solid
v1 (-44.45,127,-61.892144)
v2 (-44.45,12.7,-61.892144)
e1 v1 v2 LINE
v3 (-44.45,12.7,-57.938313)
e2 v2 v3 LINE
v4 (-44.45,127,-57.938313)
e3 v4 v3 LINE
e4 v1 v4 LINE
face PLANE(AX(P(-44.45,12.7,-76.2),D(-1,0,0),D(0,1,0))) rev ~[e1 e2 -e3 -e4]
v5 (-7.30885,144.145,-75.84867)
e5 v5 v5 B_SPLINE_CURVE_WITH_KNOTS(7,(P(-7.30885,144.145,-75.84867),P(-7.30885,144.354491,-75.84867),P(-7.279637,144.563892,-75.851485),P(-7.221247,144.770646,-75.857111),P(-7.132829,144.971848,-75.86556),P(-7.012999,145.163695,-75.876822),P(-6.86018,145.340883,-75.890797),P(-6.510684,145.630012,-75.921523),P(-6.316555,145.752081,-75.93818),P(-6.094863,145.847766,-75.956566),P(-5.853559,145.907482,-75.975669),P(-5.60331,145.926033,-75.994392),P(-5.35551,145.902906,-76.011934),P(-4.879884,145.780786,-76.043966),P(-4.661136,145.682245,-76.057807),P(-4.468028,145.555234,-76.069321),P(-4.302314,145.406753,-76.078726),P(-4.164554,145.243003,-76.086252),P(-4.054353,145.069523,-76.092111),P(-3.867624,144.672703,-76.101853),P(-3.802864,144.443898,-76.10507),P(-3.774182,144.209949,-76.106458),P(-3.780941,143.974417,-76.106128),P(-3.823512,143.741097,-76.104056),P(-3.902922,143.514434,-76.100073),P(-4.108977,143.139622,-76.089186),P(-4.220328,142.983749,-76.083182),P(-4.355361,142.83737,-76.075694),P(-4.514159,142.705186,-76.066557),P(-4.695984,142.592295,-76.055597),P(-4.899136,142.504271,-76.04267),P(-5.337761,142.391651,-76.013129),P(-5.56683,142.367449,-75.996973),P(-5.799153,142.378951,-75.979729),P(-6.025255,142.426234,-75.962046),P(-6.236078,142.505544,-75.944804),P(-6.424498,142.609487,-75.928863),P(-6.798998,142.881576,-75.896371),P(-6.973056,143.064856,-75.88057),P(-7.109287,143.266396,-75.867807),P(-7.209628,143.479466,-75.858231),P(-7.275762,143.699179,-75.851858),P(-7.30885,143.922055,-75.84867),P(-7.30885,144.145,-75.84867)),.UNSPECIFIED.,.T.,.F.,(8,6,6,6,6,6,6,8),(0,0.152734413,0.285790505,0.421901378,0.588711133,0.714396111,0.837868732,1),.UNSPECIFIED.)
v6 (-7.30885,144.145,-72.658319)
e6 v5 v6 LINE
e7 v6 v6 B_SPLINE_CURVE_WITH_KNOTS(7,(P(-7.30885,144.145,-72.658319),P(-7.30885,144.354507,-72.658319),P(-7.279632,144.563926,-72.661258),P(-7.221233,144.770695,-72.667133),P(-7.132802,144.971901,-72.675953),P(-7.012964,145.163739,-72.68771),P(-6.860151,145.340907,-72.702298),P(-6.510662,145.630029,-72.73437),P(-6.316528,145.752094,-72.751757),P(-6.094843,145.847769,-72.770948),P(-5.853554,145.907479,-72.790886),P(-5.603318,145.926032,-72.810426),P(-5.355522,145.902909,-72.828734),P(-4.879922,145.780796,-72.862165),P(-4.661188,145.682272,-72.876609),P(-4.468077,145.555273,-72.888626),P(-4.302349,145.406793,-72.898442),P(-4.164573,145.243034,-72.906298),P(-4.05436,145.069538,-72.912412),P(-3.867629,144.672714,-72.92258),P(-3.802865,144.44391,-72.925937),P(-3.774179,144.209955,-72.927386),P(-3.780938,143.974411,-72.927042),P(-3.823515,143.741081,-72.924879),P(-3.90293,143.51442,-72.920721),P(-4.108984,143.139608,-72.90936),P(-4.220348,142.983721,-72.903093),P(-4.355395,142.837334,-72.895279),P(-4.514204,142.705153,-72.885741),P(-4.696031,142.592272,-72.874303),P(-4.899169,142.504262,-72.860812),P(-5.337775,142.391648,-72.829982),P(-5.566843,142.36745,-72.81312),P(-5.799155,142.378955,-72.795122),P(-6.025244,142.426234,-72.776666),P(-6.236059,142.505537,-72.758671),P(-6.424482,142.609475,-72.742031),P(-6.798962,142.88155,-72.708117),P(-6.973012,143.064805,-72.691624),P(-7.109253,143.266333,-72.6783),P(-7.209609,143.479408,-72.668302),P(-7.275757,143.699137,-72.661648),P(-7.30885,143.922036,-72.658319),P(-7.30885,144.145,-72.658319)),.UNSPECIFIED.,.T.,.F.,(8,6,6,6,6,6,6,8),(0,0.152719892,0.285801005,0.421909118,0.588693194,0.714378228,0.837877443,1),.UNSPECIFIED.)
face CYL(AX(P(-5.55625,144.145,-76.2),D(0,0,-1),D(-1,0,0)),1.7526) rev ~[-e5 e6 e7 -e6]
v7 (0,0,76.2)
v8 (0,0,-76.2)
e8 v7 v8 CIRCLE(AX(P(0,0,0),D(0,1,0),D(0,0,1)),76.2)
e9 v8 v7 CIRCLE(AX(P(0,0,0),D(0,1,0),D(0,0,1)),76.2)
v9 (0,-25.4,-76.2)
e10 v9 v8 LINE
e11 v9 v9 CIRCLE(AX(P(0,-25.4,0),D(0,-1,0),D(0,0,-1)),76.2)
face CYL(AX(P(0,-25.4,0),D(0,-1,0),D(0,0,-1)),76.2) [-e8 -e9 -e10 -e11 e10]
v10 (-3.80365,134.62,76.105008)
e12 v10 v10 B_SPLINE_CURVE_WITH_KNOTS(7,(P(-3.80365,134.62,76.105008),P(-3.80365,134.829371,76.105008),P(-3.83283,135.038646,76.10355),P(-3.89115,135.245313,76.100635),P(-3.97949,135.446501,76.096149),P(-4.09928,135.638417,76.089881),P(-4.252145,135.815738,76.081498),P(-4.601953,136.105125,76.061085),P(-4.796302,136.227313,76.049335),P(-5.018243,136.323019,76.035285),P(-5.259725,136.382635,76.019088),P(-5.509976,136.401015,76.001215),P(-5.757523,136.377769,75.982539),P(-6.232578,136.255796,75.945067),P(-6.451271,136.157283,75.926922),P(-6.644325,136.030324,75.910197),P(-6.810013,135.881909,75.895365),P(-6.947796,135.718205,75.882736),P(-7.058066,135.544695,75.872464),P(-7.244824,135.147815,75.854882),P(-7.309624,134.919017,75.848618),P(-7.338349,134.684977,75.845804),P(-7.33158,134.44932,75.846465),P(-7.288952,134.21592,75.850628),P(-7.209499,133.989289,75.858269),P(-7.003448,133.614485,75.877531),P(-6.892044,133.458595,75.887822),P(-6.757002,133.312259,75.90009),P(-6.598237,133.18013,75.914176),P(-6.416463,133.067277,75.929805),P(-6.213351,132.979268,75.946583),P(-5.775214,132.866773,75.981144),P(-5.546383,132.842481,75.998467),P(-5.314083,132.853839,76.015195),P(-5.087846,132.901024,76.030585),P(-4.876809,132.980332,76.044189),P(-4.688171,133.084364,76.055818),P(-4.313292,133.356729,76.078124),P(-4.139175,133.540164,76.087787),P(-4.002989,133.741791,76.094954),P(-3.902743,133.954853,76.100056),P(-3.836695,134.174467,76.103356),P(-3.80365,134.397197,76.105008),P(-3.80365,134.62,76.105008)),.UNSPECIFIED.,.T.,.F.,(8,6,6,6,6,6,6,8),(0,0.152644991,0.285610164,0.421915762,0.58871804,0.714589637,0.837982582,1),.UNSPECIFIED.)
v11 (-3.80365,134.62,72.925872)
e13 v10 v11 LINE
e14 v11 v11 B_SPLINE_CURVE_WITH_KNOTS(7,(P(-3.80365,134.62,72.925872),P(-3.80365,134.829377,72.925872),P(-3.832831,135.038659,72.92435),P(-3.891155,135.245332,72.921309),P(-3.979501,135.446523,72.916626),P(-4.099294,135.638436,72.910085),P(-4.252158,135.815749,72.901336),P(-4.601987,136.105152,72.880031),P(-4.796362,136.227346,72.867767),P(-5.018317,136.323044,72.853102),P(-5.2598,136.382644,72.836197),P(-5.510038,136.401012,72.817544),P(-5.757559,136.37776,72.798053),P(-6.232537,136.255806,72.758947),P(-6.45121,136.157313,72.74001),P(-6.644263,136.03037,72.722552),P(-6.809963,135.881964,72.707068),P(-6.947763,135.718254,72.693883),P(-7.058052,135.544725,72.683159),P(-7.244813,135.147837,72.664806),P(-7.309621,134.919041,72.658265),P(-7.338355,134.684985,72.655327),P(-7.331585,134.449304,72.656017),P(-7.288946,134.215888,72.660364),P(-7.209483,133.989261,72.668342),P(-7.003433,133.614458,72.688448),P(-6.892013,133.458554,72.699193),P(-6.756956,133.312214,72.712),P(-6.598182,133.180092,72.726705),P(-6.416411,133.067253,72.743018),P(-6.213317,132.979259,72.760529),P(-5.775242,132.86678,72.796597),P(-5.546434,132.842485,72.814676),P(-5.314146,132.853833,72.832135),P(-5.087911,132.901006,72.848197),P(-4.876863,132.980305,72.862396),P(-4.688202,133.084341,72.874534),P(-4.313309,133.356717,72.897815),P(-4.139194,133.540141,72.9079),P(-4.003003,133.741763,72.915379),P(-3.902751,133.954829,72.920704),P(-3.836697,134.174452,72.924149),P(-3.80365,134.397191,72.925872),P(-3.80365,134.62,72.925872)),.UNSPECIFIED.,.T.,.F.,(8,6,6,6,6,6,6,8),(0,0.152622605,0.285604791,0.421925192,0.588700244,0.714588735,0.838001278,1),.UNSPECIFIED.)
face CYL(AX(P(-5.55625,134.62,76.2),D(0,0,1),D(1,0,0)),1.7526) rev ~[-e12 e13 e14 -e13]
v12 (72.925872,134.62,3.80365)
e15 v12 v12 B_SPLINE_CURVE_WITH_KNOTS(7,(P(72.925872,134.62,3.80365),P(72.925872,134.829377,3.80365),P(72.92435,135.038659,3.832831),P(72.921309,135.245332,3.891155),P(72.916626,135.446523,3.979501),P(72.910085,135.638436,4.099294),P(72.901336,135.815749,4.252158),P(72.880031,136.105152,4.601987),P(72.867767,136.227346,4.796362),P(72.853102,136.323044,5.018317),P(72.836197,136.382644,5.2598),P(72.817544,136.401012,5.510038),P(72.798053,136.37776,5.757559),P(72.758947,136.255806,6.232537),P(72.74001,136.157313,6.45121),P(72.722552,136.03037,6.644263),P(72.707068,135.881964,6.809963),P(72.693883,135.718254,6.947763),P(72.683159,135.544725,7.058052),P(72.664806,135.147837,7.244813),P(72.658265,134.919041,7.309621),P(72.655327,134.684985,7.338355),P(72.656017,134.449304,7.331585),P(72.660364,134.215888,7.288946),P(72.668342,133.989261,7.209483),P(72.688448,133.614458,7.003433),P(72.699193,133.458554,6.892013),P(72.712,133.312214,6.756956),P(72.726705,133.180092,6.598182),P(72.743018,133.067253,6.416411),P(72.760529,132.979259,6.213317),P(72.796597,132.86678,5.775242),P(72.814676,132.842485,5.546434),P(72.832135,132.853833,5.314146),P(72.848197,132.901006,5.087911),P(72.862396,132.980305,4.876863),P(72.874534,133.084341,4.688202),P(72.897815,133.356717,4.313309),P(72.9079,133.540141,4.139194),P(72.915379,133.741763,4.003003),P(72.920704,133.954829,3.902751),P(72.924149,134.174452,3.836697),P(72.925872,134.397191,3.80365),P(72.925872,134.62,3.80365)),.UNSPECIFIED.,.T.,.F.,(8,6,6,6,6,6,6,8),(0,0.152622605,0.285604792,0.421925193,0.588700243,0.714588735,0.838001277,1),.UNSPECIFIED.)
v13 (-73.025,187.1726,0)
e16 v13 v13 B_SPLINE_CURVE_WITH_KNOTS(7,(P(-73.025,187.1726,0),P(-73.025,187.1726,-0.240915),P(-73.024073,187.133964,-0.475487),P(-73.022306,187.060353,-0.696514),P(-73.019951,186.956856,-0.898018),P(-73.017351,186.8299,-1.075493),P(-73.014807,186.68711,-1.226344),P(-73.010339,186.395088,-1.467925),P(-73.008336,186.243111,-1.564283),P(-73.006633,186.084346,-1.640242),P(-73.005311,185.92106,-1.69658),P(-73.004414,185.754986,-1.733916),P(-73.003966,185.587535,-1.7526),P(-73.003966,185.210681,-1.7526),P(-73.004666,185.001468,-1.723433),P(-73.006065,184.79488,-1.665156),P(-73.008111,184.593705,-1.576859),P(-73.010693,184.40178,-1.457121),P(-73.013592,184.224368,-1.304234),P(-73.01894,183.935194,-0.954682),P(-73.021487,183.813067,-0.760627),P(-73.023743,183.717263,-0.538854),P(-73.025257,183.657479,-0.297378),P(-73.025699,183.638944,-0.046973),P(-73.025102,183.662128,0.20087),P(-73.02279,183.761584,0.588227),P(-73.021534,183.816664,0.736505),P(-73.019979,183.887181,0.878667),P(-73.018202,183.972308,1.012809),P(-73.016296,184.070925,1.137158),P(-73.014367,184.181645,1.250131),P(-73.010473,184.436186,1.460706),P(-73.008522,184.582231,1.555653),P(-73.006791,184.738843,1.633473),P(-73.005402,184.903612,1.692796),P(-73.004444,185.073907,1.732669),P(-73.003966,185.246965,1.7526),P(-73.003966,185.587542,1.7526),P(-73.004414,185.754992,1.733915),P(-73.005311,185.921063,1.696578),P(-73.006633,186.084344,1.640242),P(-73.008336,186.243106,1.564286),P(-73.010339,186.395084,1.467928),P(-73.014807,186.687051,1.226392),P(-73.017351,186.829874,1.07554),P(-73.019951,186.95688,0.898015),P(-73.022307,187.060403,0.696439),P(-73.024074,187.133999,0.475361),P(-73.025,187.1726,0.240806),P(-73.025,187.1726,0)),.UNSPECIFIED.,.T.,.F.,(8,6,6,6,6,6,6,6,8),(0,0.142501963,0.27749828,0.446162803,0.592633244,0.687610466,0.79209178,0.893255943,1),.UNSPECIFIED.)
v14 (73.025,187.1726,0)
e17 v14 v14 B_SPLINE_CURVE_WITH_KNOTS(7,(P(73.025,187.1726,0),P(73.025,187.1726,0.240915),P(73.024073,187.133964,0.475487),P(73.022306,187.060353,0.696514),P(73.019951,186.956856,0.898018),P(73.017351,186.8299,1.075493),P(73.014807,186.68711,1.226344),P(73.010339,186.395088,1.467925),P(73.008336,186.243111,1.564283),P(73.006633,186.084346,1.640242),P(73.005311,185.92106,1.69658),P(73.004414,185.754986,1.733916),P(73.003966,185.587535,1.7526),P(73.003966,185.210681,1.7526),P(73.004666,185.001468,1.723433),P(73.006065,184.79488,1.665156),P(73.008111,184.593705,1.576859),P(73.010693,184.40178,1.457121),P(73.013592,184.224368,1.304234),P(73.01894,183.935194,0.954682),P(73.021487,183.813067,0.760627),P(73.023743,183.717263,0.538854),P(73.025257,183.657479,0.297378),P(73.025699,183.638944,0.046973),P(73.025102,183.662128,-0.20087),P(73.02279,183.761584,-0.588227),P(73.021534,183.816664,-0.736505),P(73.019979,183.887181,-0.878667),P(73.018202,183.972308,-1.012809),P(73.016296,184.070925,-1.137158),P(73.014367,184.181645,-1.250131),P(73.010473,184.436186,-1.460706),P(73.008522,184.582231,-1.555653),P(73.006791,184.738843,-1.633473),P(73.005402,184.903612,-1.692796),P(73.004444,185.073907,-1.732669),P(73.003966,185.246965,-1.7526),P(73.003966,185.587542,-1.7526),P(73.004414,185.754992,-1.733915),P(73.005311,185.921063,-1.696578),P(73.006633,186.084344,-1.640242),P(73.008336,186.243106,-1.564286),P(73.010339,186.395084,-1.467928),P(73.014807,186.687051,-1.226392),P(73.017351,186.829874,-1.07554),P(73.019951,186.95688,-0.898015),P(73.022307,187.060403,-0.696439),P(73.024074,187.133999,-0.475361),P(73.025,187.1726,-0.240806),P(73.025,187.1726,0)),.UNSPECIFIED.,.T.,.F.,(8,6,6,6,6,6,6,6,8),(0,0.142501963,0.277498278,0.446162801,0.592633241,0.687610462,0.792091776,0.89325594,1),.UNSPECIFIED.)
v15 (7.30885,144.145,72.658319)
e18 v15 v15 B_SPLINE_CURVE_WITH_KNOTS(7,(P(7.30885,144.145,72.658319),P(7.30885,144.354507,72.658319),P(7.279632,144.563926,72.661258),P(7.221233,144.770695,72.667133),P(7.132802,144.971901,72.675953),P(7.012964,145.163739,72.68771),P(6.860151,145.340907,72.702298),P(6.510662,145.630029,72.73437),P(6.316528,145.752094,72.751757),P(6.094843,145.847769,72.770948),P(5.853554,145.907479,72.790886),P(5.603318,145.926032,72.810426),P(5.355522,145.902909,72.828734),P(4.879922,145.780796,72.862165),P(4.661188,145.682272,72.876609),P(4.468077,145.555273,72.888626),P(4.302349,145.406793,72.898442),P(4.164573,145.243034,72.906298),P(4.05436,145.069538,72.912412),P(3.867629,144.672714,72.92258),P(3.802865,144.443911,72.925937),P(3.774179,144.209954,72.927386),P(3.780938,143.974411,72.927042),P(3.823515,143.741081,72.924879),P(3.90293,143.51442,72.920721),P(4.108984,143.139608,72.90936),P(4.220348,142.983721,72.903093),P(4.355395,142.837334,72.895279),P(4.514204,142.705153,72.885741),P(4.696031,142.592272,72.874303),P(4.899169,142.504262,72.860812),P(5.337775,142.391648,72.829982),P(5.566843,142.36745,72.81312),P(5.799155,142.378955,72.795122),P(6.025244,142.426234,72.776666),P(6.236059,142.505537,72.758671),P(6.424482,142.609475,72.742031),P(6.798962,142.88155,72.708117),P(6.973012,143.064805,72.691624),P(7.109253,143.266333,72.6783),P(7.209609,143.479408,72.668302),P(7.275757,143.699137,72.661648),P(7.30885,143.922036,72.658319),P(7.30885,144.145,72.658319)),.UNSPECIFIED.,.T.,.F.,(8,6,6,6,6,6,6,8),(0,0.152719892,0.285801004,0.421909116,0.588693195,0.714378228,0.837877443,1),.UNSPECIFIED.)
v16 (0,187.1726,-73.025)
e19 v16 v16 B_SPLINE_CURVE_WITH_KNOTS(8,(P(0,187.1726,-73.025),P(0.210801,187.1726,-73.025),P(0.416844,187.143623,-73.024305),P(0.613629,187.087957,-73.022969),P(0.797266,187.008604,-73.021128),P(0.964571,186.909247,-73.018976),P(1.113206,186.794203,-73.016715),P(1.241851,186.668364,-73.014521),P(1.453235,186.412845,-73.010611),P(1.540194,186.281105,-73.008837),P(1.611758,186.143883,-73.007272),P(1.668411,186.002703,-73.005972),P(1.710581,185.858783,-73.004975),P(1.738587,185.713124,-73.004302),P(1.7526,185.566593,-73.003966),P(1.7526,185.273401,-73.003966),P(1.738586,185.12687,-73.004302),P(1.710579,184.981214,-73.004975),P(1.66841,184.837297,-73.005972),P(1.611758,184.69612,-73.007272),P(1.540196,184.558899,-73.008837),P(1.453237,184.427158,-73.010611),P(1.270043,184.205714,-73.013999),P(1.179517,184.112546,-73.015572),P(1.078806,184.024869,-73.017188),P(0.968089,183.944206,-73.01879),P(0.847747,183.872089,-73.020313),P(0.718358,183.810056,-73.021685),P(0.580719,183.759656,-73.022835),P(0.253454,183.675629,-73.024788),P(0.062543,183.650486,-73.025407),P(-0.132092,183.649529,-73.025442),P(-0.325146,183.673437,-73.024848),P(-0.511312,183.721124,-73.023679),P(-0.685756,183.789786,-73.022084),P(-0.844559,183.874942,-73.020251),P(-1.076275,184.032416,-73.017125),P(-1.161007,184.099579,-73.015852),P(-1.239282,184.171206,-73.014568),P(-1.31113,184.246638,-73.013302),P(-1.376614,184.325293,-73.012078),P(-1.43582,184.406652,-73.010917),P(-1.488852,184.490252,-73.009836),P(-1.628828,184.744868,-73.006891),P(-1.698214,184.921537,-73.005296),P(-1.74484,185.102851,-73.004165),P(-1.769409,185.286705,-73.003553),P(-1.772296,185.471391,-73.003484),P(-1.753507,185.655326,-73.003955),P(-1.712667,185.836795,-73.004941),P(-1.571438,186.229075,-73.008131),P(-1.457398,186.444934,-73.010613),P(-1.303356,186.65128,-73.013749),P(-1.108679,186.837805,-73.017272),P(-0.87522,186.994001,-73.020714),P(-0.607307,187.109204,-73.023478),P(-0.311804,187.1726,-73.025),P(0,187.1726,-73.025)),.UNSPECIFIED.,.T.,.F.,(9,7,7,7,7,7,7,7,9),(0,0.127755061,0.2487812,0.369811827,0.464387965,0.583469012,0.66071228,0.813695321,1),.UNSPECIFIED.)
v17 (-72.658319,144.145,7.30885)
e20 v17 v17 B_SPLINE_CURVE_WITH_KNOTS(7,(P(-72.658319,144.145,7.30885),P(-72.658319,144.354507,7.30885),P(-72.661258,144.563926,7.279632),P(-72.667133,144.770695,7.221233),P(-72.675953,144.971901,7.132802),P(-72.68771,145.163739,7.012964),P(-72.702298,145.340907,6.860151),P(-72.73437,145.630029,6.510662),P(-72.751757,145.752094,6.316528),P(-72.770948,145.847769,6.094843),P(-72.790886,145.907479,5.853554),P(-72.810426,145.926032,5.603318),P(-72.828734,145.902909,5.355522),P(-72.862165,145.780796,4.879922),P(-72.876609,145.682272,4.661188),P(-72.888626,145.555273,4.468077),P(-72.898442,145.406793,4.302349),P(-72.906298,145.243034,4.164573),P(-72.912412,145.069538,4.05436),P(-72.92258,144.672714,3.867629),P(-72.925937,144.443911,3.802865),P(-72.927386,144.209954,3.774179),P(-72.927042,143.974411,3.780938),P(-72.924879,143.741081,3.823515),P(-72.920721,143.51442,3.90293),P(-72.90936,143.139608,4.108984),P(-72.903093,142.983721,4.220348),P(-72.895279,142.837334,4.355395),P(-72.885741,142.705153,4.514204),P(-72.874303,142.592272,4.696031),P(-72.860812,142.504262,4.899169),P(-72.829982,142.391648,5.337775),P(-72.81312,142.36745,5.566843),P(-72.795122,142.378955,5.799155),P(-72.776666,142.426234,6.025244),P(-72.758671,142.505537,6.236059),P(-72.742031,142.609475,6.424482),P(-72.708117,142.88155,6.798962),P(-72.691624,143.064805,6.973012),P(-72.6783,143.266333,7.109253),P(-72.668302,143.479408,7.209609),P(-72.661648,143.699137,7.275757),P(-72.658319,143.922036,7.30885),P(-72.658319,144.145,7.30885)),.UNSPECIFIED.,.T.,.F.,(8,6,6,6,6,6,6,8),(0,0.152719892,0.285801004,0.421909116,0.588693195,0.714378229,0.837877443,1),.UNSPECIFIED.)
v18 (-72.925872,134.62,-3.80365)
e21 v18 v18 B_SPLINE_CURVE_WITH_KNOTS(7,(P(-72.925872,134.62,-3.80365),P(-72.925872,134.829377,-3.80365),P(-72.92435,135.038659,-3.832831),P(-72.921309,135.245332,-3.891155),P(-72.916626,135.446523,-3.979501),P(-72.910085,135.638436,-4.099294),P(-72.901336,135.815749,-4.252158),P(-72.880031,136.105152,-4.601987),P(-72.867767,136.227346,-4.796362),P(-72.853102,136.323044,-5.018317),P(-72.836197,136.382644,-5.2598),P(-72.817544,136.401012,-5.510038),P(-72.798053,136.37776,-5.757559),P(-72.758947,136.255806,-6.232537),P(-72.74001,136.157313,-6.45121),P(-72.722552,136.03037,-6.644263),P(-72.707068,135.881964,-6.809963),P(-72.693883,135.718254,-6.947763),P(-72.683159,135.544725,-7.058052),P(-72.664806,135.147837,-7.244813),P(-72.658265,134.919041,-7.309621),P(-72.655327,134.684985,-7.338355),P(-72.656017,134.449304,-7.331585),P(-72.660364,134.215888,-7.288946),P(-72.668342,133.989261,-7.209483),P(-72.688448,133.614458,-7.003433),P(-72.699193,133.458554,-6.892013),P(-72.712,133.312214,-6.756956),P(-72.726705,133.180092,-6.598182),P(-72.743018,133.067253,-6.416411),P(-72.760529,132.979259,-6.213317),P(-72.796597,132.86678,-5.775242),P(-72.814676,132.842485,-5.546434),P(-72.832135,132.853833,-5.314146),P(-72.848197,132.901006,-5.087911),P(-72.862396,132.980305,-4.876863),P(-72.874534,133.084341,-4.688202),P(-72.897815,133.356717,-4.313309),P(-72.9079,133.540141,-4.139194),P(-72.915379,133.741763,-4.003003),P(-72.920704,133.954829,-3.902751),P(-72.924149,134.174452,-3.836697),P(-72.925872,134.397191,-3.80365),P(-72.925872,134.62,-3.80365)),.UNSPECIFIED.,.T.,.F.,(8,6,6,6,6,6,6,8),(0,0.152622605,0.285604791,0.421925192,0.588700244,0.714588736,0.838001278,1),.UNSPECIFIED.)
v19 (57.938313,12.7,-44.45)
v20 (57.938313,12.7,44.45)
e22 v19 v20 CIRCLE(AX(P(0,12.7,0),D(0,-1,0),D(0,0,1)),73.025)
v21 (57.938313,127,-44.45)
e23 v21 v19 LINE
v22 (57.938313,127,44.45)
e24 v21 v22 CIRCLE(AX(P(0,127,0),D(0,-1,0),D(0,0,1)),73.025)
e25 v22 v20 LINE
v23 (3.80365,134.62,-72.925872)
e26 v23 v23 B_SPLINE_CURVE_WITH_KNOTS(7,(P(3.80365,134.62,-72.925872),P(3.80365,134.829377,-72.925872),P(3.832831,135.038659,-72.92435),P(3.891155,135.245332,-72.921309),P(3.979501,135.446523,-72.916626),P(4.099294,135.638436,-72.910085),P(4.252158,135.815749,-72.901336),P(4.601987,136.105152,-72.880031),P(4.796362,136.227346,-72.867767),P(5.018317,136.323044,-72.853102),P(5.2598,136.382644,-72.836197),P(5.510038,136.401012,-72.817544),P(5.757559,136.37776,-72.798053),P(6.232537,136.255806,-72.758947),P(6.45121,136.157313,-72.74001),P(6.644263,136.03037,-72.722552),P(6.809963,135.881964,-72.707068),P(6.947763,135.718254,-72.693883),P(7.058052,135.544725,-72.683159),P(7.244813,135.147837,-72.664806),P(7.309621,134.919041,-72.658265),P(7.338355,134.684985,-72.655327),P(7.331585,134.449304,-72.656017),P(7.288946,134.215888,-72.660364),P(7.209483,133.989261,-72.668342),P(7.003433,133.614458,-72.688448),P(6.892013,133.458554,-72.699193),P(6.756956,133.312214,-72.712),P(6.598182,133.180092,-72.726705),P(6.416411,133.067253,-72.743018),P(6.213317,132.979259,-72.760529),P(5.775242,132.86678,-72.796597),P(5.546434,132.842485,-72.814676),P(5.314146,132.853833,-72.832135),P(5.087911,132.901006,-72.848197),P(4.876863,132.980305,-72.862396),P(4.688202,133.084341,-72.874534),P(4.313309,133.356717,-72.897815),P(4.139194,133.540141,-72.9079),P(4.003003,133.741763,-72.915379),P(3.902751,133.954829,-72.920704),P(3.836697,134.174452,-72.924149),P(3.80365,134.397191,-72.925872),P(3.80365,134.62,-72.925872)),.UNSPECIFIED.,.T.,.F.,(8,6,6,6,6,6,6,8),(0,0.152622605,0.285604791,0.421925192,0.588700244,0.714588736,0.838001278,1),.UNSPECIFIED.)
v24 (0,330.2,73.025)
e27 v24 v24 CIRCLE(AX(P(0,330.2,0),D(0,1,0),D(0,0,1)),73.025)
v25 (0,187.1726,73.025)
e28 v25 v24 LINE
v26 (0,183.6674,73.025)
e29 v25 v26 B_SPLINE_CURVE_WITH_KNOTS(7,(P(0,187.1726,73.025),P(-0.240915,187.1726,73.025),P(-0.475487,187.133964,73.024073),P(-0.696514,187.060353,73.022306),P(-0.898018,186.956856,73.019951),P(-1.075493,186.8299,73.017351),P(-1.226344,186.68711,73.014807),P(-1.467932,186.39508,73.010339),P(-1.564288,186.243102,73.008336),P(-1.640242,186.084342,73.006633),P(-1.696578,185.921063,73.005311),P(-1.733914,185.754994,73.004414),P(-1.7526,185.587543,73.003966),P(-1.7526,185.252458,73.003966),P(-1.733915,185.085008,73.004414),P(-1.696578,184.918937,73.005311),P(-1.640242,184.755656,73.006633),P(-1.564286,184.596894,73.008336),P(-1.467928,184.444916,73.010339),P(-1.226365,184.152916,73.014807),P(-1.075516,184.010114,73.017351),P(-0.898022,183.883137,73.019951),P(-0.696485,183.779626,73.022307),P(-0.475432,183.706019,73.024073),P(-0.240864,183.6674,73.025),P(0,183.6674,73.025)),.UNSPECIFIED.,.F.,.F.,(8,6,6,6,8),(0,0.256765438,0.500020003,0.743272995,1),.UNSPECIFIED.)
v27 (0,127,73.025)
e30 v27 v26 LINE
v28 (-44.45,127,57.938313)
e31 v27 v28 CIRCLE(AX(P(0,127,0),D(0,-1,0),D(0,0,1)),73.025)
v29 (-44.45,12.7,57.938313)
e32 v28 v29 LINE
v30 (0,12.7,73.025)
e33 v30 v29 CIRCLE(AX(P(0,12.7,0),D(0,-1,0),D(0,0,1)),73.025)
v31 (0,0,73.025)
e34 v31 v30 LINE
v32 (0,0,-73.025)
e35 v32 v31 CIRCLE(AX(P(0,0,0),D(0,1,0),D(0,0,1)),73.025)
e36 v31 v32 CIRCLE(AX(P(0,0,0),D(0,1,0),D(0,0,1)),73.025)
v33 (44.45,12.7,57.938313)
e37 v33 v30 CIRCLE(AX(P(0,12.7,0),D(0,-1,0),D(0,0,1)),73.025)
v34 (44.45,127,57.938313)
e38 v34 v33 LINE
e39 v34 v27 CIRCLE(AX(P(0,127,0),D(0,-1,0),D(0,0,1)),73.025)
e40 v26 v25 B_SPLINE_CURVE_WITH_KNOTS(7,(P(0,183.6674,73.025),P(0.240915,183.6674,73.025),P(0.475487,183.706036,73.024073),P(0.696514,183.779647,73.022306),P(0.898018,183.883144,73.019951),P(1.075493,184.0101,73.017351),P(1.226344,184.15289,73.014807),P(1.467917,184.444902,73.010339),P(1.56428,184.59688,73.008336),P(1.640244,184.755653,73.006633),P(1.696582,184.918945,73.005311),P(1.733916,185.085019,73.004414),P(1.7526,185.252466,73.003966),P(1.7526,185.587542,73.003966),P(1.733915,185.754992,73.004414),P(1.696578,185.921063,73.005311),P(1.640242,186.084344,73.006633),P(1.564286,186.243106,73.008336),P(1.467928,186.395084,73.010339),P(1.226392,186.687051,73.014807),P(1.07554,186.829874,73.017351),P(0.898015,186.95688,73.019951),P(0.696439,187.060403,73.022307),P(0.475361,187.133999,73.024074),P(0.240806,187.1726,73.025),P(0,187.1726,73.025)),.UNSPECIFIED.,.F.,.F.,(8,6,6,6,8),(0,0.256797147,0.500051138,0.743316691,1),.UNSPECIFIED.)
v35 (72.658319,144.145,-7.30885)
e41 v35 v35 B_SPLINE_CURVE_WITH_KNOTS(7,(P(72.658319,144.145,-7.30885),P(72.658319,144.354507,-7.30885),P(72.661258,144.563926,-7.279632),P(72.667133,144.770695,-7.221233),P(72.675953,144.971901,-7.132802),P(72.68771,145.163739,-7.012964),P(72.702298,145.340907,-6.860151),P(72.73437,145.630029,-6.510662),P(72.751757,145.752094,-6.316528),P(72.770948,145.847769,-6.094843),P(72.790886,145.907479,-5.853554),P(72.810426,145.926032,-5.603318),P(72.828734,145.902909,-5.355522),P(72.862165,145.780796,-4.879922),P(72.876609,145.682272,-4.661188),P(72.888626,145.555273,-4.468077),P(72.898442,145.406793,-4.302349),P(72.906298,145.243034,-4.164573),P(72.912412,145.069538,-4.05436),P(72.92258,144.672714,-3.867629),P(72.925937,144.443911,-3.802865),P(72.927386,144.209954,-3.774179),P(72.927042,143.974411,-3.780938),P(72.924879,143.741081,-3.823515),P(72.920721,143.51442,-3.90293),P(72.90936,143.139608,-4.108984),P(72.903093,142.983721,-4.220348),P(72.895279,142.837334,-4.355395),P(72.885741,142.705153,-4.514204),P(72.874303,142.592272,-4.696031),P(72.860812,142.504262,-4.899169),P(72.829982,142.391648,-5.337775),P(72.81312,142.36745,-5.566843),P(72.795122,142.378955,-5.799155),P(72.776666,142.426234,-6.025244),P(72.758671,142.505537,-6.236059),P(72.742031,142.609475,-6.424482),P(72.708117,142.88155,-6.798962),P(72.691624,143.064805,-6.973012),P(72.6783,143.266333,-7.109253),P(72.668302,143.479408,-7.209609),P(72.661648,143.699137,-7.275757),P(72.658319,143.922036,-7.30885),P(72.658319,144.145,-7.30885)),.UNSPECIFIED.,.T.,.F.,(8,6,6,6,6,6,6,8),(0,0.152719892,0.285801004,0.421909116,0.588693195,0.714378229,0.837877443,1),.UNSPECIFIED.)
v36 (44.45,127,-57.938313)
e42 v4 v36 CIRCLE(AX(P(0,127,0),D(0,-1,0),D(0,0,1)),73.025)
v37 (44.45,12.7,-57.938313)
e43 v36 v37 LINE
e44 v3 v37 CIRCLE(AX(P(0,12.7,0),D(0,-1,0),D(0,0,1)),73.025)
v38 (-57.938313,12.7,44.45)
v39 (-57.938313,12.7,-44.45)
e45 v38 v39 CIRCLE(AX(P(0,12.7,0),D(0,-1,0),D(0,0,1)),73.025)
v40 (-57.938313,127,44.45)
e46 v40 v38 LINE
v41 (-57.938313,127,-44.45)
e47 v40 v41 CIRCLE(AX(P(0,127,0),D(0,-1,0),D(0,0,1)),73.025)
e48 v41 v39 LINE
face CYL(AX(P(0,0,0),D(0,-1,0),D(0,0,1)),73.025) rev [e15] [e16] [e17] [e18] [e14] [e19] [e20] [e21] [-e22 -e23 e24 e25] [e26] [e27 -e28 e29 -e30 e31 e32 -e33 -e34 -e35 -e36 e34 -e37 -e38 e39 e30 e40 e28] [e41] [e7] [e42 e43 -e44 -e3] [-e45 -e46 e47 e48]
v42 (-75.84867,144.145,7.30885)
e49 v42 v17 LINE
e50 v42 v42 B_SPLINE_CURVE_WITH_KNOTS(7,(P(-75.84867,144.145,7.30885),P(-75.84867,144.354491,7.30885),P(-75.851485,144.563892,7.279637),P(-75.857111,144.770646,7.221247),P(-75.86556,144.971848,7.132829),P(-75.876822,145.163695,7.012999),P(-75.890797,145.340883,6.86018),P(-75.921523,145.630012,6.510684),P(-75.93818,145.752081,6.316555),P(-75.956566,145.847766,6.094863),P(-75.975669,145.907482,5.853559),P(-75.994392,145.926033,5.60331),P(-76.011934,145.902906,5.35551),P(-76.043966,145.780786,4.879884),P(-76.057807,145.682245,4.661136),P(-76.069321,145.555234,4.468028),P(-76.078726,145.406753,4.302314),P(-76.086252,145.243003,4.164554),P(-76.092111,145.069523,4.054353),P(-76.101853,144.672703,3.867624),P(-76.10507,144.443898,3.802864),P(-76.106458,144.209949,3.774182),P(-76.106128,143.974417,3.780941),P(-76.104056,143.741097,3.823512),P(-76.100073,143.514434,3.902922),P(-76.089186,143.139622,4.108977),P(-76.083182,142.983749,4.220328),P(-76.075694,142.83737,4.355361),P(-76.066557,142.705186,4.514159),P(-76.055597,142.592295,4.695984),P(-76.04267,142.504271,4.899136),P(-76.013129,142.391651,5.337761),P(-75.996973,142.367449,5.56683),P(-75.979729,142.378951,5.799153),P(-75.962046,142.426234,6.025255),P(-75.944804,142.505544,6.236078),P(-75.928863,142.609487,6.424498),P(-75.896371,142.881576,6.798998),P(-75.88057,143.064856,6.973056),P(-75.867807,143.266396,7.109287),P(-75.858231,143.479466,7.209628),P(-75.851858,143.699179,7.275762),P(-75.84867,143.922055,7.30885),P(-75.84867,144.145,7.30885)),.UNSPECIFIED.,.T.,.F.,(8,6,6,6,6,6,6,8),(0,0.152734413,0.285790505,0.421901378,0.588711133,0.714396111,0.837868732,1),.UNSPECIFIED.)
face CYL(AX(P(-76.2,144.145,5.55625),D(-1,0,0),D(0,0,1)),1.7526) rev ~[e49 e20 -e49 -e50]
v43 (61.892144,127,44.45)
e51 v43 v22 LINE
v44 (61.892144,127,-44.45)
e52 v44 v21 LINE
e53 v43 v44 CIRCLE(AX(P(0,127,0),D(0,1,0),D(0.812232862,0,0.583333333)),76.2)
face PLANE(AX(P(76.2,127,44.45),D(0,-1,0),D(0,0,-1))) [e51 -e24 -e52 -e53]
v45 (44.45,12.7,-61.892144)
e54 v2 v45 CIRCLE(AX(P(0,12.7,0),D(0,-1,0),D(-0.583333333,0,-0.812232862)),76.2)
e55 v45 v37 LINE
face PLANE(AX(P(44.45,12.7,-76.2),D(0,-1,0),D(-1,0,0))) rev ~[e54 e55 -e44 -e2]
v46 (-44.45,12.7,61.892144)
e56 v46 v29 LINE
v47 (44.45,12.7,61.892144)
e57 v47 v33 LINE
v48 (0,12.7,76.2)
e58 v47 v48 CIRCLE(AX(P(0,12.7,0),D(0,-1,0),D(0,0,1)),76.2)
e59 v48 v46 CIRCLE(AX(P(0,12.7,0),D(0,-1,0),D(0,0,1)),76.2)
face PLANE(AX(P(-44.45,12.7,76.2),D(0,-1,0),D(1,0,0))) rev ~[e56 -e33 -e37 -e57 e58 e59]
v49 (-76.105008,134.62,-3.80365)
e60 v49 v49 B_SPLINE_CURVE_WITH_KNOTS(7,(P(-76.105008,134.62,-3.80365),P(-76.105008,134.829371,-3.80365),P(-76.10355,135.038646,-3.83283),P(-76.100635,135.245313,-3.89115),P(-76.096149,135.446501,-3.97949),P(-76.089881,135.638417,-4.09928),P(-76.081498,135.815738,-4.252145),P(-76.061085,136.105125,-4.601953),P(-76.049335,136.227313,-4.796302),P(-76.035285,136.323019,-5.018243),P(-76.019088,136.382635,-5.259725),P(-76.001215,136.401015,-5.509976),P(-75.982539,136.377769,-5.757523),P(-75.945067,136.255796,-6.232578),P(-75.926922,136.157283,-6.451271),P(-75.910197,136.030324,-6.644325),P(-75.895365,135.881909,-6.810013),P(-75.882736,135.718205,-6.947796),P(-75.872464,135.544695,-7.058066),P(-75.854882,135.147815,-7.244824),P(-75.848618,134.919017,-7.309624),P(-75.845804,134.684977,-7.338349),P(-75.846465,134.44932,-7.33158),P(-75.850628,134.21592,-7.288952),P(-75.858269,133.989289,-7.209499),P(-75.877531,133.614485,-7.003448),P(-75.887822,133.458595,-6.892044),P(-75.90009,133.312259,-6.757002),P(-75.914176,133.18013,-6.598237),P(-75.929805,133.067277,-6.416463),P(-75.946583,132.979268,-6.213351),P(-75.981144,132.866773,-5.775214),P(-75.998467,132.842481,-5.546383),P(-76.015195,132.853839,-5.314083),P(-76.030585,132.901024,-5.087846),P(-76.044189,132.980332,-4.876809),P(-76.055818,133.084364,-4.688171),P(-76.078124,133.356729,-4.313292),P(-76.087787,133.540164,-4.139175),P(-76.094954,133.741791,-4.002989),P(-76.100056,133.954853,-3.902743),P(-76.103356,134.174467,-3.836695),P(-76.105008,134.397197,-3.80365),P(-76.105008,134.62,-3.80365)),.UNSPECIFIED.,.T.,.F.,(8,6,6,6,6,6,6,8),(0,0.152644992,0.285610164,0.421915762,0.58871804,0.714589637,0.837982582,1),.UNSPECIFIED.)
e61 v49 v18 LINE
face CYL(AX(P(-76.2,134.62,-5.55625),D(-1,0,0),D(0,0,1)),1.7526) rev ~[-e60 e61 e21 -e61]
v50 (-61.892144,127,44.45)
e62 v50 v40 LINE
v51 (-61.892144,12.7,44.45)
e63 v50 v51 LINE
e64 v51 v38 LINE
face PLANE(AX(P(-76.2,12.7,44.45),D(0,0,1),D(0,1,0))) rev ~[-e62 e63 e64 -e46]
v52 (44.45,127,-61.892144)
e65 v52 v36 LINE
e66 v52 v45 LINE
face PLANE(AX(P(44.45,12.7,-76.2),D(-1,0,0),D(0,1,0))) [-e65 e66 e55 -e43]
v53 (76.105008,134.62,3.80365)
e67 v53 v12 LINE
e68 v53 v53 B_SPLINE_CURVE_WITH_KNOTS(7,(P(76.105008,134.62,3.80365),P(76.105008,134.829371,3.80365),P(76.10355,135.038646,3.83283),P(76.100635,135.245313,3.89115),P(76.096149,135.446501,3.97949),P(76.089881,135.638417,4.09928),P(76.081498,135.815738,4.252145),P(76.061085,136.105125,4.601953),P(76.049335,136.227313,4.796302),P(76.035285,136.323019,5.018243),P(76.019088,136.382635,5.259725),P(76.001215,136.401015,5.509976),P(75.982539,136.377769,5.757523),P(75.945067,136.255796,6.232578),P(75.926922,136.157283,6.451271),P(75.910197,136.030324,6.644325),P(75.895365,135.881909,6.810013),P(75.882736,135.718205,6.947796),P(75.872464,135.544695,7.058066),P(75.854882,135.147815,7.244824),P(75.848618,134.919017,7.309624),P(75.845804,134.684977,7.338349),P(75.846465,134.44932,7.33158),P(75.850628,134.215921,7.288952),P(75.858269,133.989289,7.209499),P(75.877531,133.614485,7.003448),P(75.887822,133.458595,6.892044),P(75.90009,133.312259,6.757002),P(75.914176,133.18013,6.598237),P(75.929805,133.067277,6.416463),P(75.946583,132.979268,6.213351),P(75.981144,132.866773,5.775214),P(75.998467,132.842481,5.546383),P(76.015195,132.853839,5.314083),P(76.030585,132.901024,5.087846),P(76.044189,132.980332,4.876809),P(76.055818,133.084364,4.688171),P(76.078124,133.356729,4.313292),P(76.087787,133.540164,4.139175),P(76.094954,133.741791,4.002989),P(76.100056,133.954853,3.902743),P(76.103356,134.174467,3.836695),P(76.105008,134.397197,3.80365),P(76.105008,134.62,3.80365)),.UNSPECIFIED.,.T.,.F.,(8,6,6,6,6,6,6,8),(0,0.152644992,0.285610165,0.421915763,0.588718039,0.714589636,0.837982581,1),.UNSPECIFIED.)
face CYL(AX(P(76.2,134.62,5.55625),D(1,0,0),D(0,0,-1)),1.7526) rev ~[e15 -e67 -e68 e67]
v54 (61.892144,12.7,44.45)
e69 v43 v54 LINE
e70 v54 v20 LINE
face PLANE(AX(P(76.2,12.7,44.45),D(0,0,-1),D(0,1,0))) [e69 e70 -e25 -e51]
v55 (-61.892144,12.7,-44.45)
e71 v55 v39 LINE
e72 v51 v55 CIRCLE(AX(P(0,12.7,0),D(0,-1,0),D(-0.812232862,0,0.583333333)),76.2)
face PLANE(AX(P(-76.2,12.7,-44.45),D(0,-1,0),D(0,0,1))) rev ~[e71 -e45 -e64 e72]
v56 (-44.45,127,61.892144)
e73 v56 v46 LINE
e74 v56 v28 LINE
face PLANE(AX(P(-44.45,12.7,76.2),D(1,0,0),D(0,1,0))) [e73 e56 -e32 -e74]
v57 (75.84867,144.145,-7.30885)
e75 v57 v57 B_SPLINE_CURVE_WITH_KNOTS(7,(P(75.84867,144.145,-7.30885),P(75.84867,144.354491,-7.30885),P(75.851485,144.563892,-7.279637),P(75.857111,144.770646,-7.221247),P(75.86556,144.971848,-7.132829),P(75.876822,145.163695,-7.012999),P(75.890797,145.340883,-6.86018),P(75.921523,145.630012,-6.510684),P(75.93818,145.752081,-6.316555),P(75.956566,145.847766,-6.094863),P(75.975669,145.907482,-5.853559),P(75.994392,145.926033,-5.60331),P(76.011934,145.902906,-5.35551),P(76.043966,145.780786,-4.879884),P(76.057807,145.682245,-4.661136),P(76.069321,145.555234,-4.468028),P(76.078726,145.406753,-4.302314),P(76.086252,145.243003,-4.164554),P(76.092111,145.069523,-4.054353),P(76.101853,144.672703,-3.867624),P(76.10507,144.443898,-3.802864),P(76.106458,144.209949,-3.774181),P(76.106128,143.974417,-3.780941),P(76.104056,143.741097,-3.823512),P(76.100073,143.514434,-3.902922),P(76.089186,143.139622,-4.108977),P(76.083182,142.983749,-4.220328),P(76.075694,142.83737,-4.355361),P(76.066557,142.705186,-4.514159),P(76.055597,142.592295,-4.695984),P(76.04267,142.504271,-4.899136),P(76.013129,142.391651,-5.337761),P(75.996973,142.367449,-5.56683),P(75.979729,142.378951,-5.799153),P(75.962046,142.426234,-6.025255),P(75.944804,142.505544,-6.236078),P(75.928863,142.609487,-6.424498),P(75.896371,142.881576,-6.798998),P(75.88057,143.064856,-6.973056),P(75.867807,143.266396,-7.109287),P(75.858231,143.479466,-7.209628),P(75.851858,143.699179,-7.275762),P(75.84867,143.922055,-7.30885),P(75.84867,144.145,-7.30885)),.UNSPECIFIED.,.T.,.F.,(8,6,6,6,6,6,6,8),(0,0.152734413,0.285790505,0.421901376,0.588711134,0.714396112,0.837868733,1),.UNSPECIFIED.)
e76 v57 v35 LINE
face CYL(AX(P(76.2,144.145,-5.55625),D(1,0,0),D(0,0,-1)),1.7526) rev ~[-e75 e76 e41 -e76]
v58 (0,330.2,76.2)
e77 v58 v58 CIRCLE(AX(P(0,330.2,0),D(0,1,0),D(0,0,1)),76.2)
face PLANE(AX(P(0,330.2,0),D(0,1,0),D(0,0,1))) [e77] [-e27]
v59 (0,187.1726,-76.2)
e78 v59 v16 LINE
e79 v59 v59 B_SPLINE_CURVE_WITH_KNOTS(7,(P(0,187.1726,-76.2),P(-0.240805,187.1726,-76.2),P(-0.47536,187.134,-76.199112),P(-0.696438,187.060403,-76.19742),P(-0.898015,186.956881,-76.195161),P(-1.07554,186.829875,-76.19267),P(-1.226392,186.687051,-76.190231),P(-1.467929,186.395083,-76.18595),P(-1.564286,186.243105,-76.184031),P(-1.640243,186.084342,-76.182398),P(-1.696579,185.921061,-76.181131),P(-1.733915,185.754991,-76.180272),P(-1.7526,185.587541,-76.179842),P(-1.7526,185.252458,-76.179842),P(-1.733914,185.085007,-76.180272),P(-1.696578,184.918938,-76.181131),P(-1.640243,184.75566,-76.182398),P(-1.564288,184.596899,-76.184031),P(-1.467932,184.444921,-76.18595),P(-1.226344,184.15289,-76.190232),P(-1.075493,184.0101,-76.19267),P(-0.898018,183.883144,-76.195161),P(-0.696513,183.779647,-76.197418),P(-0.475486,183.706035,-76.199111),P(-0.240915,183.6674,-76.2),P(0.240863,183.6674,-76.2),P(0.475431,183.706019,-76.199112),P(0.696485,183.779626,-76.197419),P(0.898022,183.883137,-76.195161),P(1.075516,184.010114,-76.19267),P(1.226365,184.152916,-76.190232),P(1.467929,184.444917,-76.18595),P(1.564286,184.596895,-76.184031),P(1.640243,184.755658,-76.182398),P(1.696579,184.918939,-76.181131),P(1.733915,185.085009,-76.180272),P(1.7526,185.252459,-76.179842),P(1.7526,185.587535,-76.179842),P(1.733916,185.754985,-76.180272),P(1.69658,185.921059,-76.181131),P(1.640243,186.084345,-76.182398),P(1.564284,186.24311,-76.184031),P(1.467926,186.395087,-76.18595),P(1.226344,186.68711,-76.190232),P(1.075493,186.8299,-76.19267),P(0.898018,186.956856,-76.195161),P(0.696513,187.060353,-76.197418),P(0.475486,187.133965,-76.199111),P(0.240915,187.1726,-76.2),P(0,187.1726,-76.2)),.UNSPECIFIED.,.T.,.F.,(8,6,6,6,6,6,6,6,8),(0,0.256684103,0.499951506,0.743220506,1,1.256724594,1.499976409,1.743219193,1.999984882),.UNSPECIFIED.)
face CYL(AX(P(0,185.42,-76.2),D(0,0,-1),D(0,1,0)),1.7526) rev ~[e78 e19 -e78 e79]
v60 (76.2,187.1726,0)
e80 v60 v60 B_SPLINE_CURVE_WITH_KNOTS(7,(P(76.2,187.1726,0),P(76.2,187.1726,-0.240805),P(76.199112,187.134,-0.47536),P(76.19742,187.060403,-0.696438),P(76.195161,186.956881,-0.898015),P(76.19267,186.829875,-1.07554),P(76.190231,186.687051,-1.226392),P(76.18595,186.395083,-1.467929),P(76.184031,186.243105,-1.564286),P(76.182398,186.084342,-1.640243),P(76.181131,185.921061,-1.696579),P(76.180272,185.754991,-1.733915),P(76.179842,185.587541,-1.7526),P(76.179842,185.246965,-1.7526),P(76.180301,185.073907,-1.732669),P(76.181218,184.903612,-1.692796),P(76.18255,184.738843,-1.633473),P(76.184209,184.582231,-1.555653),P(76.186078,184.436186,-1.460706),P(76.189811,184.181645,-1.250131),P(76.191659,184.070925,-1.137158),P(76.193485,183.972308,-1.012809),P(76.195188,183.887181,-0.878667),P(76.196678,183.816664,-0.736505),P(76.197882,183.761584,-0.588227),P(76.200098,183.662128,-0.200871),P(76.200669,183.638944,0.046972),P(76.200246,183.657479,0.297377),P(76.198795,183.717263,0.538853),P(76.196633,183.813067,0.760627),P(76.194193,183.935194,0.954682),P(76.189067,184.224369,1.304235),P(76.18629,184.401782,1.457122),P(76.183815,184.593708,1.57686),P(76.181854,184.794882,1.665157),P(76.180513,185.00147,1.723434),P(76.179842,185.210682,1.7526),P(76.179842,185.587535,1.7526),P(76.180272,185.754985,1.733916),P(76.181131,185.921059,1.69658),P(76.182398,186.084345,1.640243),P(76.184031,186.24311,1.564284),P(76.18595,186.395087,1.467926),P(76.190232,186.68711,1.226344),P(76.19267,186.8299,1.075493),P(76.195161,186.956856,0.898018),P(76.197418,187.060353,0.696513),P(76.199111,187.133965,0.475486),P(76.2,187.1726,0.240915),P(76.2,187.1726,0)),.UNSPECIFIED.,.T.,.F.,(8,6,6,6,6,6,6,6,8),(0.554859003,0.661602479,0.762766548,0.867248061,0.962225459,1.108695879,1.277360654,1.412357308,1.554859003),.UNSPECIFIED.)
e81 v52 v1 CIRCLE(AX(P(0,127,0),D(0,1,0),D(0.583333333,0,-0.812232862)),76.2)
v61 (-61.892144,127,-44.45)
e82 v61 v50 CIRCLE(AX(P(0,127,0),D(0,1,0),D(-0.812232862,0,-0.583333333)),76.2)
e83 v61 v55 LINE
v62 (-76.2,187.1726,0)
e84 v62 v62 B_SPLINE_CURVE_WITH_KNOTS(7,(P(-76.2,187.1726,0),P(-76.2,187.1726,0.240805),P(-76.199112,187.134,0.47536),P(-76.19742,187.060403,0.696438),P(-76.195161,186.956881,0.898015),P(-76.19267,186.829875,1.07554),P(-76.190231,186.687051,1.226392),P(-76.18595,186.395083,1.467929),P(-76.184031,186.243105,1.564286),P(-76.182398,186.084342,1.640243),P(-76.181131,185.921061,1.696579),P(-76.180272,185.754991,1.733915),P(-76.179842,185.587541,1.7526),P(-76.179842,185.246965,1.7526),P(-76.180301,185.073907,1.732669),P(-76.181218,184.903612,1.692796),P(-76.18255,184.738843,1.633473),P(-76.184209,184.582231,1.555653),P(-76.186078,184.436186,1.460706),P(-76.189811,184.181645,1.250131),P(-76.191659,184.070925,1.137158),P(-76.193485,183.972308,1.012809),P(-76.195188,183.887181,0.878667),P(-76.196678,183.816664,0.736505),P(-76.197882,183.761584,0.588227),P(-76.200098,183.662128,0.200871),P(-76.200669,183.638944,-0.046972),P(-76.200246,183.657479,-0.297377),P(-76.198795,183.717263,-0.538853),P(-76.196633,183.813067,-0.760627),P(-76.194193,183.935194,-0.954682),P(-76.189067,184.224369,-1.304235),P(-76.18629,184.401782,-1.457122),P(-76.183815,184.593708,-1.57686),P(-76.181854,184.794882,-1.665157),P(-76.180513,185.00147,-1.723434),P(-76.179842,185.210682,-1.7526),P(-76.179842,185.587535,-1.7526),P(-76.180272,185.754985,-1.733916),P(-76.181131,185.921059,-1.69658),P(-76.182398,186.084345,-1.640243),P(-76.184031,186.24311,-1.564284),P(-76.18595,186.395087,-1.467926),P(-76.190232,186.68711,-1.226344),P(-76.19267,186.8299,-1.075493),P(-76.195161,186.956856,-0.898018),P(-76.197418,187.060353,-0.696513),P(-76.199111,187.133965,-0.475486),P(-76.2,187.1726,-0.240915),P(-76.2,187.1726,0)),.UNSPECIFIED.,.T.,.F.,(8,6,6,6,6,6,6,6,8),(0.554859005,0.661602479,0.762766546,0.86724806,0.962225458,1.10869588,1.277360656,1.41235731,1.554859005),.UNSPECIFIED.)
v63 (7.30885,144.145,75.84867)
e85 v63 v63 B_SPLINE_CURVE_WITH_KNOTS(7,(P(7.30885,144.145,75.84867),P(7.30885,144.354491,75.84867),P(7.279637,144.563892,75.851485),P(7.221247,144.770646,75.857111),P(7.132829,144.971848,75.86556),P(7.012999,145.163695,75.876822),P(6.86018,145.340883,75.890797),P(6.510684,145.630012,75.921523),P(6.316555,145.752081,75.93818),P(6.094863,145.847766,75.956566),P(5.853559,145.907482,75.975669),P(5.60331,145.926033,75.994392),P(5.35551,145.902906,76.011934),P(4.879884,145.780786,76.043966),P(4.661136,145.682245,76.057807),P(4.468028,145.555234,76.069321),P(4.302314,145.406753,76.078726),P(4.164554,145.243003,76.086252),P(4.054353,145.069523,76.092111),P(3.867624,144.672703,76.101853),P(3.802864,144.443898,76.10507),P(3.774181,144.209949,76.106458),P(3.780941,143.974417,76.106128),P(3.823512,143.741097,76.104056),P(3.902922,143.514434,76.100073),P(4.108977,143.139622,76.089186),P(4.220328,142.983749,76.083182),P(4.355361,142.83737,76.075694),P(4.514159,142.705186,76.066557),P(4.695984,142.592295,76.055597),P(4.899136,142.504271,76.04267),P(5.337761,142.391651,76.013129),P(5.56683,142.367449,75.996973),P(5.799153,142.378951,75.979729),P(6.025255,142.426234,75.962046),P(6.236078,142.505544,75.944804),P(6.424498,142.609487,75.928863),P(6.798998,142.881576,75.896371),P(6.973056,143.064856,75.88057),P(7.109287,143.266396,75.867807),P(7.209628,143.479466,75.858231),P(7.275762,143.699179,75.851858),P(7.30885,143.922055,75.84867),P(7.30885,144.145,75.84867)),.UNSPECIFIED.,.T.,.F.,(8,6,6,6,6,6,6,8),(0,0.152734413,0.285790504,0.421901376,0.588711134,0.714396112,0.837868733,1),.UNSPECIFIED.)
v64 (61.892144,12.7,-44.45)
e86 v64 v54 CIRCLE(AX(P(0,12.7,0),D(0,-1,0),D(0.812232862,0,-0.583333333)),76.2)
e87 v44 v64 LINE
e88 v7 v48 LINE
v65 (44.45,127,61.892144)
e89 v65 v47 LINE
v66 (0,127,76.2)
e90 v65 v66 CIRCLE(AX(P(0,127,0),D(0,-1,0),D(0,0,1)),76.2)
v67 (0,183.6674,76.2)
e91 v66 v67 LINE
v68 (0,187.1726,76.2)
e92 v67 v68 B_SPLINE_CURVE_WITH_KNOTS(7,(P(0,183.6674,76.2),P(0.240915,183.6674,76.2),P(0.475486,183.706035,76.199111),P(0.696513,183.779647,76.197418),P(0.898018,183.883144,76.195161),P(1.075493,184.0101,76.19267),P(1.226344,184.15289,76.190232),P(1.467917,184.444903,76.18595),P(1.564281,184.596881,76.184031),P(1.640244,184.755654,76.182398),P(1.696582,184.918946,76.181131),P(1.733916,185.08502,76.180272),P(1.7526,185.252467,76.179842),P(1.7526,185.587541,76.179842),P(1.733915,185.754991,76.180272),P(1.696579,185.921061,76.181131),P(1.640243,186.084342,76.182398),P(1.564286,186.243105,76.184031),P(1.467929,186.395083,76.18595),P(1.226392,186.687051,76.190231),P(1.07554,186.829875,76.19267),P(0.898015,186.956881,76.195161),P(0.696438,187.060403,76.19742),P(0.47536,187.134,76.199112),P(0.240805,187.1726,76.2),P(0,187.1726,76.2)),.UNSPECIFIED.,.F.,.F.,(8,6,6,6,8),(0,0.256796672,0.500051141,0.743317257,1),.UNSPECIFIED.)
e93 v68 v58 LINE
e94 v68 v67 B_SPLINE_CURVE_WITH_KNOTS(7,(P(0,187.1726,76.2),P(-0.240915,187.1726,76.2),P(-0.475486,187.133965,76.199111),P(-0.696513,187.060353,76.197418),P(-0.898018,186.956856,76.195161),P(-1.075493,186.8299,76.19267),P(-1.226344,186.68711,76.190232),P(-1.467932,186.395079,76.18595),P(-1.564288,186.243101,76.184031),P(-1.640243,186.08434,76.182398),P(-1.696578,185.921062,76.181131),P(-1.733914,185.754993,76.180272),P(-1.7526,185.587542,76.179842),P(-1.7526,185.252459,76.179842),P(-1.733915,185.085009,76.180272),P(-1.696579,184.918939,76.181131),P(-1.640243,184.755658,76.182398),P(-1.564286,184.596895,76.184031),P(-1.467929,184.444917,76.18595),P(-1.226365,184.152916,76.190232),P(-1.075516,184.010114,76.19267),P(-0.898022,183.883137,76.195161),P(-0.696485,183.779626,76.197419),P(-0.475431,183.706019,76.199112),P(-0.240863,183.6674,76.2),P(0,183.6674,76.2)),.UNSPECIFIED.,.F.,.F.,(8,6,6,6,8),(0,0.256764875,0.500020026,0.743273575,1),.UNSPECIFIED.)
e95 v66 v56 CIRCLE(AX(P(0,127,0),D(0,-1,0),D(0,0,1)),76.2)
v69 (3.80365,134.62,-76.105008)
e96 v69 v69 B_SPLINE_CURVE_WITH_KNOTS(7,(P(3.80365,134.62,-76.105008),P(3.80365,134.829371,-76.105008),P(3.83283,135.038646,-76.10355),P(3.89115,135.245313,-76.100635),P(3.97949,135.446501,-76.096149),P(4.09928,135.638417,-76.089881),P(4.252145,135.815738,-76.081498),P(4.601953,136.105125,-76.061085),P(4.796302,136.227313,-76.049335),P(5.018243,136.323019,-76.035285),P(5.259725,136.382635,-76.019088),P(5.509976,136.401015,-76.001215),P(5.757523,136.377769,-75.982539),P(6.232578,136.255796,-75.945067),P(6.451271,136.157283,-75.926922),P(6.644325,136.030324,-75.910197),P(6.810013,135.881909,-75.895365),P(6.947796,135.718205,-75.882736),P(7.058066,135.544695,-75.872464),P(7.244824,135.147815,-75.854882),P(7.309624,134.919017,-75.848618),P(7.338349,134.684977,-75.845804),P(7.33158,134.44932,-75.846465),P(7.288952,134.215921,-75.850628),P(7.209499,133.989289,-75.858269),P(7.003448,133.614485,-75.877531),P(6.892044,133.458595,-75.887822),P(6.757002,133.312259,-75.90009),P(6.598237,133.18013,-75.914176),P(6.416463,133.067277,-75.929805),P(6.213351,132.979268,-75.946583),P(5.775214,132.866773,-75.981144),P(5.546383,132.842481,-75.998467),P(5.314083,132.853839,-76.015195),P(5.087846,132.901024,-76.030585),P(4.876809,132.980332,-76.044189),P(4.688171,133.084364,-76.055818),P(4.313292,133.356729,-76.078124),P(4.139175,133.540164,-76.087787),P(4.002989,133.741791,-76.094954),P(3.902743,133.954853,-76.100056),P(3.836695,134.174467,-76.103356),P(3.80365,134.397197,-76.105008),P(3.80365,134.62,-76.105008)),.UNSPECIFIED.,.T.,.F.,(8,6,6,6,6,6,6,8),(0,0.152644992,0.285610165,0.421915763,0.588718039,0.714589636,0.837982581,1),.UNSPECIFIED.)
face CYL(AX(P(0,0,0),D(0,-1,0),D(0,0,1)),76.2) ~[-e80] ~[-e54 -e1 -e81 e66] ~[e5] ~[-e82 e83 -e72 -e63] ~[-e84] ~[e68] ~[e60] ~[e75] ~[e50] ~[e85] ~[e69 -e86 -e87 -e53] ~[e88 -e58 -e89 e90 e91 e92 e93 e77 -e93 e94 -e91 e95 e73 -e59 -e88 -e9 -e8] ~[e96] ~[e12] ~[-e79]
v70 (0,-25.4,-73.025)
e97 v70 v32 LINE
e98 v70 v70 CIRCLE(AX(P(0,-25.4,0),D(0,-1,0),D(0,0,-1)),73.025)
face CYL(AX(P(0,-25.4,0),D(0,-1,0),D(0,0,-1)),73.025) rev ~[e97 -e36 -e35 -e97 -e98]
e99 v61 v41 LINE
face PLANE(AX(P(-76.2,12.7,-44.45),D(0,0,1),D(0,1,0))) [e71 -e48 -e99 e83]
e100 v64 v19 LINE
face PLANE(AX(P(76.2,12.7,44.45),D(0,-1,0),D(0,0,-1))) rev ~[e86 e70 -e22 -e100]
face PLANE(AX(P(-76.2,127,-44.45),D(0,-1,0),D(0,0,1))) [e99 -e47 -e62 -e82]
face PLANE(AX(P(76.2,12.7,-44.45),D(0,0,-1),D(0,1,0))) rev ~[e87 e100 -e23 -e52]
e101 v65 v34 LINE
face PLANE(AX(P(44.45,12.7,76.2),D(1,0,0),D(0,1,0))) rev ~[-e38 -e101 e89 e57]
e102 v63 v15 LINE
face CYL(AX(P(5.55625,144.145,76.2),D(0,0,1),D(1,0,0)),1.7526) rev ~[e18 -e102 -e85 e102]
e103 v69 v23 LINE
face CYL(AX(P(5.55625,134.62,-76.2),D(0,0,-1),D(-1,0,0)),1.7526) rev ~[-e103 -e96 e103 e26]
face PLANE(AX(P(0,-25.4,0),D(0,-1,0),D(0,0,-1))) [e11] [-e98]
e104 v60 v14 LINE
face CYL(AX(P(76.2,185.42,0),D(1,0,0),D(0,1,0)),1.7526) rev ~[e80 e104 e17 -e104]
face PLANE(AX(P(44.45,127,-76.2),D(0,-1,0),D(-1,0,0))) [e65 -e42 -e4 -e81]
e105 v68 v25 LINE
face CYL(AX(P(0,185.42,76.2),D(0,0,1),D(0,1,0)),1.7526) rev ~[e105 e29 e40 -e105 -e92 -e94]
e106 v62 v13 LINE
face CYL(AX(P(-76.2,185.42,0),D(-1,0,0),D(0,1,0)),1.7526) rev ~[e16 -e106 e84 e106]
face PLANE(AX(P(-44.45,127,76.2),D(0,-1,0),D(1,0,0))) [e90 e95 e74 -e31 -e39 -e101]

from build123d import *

# Parameters (mm, degrees)
SKETCH1_R           = 76.2
SKETCH1_R_2         = 73.025
BOSS_EXTRUDE1_DEPTH = 330.2
SKETCH6_W           = 88.9
SKETCH6_H           = 114.3
CUT_EXTRUDE6_DEPTH  = 20.574
CIRPATTERN9_COUNT   = 4
SKETCH7_R           = 1.7526
CUT_EXTRUDE7_DEPTH  = 17.78
CIRPATTERN10_COUNT  = 4
BOSS_EXTRUDE2_START = 25.4
SKETCH8_R           = 76.2
SKETCH8_R_2         = 73.025
BOSS_EXTRUDE2_DEPTH = 25.4


with BuildPart() as part:
    # Sketch1 → Boss-Extrude1 (new body)
    with BuildSketch(Plane(origin=(0, 0, 0), x_dir=(1, 0, 0), z_dir=(0, 1, 0))):
        with Locations(Location((0, 0, 0), (0, 0, 270))):
            Circle(SKETCH1_R)
        with Locations(Location((0, 0, 0), (0, 0, 270))):
            Circle(SKETCH1_R_2, mode=Mode.SUBTRACT)
    extrude(amount=BOSS_EXTRUDE1_DEPTH)

    # Sketch6 → Cut-Extrude6 (cut)
    with BuildSketch(Plane(origin=(0, 0, -76.2), x_dir=(-1, 0, 0), z_dir=(0, 0, -1))):
        with Locations((0, 69.85)):
            Rectangle(SKETCH6_W, SKETCH6_H)
    cut_extrude6 = extrude(amount=-CUT_EXTRUDE6_DEPTH, mode=Mode.SUBTRACT)

    # CirPattern9: Cut-Extrude6 ×4 about axis
    cirpattern9_axis = Axis((0, 0, 0), (0, 1, 0))
    for i in range(1, CIRPATTERN9_COUNT):
        add(cut_extrude6.rotate(cirpattern9_axis, i * 360 / CIRPATTERN9_COUNT), mode=Mode.SUBTRACT)

    # Sketch7 → Cut-Extrude7 (cut)
    with BuildSketch(Plane(origin=(0, 0, -76.2), x_dir=(-1, 0, 0), z_dir=(0, 0, -1))):
        with Locations(Location((0, 185.42, 0), (0, 0, 90))):
            Circle(SKETCH7_R)
        with Locations((5.55625, 144.145)):
            Circle(SKETCH7_R)
        with Locations((-5.55625, 134.62)):
            Circle(SKETCH7_R)
    cut_extrude7 = extrude(amount=-CUT_EXTRUDE7_DEPTH, mode=Mode.SUBTRACT)

    # CirPattern10: Cut-Extrude7 ×4 about axis
    cirpattern10_axis = Axis((0, 330.2, 0), (0, 1, 0))
    for i in range(1, CIRPATTERN10_COUNT):
        add(cut_extrude7.rotate(cirpattern10_axis, i * 360 / CIRPATTERN10_COUNT), mode=Mode.SUBTRACT)

    # Sketch8 → Boss-Extrude2 (add)
    with BuildSketch(Plane.XZ.offset(BOSS_EXTRUDE2_START)):
        with Locations(Location((0, 0, 0), (0, 0, 270))):
            Circle(SKETCH8_R)
        with Locations(Location((0, 0, 0), (0, 0, 270))):
            Circle(SKETCH8_R_2, mode=Mode.SUBTRACT)
    extrude(amount=-BOSS_EXTRUDE2_DEPTH)


solid = part.part
